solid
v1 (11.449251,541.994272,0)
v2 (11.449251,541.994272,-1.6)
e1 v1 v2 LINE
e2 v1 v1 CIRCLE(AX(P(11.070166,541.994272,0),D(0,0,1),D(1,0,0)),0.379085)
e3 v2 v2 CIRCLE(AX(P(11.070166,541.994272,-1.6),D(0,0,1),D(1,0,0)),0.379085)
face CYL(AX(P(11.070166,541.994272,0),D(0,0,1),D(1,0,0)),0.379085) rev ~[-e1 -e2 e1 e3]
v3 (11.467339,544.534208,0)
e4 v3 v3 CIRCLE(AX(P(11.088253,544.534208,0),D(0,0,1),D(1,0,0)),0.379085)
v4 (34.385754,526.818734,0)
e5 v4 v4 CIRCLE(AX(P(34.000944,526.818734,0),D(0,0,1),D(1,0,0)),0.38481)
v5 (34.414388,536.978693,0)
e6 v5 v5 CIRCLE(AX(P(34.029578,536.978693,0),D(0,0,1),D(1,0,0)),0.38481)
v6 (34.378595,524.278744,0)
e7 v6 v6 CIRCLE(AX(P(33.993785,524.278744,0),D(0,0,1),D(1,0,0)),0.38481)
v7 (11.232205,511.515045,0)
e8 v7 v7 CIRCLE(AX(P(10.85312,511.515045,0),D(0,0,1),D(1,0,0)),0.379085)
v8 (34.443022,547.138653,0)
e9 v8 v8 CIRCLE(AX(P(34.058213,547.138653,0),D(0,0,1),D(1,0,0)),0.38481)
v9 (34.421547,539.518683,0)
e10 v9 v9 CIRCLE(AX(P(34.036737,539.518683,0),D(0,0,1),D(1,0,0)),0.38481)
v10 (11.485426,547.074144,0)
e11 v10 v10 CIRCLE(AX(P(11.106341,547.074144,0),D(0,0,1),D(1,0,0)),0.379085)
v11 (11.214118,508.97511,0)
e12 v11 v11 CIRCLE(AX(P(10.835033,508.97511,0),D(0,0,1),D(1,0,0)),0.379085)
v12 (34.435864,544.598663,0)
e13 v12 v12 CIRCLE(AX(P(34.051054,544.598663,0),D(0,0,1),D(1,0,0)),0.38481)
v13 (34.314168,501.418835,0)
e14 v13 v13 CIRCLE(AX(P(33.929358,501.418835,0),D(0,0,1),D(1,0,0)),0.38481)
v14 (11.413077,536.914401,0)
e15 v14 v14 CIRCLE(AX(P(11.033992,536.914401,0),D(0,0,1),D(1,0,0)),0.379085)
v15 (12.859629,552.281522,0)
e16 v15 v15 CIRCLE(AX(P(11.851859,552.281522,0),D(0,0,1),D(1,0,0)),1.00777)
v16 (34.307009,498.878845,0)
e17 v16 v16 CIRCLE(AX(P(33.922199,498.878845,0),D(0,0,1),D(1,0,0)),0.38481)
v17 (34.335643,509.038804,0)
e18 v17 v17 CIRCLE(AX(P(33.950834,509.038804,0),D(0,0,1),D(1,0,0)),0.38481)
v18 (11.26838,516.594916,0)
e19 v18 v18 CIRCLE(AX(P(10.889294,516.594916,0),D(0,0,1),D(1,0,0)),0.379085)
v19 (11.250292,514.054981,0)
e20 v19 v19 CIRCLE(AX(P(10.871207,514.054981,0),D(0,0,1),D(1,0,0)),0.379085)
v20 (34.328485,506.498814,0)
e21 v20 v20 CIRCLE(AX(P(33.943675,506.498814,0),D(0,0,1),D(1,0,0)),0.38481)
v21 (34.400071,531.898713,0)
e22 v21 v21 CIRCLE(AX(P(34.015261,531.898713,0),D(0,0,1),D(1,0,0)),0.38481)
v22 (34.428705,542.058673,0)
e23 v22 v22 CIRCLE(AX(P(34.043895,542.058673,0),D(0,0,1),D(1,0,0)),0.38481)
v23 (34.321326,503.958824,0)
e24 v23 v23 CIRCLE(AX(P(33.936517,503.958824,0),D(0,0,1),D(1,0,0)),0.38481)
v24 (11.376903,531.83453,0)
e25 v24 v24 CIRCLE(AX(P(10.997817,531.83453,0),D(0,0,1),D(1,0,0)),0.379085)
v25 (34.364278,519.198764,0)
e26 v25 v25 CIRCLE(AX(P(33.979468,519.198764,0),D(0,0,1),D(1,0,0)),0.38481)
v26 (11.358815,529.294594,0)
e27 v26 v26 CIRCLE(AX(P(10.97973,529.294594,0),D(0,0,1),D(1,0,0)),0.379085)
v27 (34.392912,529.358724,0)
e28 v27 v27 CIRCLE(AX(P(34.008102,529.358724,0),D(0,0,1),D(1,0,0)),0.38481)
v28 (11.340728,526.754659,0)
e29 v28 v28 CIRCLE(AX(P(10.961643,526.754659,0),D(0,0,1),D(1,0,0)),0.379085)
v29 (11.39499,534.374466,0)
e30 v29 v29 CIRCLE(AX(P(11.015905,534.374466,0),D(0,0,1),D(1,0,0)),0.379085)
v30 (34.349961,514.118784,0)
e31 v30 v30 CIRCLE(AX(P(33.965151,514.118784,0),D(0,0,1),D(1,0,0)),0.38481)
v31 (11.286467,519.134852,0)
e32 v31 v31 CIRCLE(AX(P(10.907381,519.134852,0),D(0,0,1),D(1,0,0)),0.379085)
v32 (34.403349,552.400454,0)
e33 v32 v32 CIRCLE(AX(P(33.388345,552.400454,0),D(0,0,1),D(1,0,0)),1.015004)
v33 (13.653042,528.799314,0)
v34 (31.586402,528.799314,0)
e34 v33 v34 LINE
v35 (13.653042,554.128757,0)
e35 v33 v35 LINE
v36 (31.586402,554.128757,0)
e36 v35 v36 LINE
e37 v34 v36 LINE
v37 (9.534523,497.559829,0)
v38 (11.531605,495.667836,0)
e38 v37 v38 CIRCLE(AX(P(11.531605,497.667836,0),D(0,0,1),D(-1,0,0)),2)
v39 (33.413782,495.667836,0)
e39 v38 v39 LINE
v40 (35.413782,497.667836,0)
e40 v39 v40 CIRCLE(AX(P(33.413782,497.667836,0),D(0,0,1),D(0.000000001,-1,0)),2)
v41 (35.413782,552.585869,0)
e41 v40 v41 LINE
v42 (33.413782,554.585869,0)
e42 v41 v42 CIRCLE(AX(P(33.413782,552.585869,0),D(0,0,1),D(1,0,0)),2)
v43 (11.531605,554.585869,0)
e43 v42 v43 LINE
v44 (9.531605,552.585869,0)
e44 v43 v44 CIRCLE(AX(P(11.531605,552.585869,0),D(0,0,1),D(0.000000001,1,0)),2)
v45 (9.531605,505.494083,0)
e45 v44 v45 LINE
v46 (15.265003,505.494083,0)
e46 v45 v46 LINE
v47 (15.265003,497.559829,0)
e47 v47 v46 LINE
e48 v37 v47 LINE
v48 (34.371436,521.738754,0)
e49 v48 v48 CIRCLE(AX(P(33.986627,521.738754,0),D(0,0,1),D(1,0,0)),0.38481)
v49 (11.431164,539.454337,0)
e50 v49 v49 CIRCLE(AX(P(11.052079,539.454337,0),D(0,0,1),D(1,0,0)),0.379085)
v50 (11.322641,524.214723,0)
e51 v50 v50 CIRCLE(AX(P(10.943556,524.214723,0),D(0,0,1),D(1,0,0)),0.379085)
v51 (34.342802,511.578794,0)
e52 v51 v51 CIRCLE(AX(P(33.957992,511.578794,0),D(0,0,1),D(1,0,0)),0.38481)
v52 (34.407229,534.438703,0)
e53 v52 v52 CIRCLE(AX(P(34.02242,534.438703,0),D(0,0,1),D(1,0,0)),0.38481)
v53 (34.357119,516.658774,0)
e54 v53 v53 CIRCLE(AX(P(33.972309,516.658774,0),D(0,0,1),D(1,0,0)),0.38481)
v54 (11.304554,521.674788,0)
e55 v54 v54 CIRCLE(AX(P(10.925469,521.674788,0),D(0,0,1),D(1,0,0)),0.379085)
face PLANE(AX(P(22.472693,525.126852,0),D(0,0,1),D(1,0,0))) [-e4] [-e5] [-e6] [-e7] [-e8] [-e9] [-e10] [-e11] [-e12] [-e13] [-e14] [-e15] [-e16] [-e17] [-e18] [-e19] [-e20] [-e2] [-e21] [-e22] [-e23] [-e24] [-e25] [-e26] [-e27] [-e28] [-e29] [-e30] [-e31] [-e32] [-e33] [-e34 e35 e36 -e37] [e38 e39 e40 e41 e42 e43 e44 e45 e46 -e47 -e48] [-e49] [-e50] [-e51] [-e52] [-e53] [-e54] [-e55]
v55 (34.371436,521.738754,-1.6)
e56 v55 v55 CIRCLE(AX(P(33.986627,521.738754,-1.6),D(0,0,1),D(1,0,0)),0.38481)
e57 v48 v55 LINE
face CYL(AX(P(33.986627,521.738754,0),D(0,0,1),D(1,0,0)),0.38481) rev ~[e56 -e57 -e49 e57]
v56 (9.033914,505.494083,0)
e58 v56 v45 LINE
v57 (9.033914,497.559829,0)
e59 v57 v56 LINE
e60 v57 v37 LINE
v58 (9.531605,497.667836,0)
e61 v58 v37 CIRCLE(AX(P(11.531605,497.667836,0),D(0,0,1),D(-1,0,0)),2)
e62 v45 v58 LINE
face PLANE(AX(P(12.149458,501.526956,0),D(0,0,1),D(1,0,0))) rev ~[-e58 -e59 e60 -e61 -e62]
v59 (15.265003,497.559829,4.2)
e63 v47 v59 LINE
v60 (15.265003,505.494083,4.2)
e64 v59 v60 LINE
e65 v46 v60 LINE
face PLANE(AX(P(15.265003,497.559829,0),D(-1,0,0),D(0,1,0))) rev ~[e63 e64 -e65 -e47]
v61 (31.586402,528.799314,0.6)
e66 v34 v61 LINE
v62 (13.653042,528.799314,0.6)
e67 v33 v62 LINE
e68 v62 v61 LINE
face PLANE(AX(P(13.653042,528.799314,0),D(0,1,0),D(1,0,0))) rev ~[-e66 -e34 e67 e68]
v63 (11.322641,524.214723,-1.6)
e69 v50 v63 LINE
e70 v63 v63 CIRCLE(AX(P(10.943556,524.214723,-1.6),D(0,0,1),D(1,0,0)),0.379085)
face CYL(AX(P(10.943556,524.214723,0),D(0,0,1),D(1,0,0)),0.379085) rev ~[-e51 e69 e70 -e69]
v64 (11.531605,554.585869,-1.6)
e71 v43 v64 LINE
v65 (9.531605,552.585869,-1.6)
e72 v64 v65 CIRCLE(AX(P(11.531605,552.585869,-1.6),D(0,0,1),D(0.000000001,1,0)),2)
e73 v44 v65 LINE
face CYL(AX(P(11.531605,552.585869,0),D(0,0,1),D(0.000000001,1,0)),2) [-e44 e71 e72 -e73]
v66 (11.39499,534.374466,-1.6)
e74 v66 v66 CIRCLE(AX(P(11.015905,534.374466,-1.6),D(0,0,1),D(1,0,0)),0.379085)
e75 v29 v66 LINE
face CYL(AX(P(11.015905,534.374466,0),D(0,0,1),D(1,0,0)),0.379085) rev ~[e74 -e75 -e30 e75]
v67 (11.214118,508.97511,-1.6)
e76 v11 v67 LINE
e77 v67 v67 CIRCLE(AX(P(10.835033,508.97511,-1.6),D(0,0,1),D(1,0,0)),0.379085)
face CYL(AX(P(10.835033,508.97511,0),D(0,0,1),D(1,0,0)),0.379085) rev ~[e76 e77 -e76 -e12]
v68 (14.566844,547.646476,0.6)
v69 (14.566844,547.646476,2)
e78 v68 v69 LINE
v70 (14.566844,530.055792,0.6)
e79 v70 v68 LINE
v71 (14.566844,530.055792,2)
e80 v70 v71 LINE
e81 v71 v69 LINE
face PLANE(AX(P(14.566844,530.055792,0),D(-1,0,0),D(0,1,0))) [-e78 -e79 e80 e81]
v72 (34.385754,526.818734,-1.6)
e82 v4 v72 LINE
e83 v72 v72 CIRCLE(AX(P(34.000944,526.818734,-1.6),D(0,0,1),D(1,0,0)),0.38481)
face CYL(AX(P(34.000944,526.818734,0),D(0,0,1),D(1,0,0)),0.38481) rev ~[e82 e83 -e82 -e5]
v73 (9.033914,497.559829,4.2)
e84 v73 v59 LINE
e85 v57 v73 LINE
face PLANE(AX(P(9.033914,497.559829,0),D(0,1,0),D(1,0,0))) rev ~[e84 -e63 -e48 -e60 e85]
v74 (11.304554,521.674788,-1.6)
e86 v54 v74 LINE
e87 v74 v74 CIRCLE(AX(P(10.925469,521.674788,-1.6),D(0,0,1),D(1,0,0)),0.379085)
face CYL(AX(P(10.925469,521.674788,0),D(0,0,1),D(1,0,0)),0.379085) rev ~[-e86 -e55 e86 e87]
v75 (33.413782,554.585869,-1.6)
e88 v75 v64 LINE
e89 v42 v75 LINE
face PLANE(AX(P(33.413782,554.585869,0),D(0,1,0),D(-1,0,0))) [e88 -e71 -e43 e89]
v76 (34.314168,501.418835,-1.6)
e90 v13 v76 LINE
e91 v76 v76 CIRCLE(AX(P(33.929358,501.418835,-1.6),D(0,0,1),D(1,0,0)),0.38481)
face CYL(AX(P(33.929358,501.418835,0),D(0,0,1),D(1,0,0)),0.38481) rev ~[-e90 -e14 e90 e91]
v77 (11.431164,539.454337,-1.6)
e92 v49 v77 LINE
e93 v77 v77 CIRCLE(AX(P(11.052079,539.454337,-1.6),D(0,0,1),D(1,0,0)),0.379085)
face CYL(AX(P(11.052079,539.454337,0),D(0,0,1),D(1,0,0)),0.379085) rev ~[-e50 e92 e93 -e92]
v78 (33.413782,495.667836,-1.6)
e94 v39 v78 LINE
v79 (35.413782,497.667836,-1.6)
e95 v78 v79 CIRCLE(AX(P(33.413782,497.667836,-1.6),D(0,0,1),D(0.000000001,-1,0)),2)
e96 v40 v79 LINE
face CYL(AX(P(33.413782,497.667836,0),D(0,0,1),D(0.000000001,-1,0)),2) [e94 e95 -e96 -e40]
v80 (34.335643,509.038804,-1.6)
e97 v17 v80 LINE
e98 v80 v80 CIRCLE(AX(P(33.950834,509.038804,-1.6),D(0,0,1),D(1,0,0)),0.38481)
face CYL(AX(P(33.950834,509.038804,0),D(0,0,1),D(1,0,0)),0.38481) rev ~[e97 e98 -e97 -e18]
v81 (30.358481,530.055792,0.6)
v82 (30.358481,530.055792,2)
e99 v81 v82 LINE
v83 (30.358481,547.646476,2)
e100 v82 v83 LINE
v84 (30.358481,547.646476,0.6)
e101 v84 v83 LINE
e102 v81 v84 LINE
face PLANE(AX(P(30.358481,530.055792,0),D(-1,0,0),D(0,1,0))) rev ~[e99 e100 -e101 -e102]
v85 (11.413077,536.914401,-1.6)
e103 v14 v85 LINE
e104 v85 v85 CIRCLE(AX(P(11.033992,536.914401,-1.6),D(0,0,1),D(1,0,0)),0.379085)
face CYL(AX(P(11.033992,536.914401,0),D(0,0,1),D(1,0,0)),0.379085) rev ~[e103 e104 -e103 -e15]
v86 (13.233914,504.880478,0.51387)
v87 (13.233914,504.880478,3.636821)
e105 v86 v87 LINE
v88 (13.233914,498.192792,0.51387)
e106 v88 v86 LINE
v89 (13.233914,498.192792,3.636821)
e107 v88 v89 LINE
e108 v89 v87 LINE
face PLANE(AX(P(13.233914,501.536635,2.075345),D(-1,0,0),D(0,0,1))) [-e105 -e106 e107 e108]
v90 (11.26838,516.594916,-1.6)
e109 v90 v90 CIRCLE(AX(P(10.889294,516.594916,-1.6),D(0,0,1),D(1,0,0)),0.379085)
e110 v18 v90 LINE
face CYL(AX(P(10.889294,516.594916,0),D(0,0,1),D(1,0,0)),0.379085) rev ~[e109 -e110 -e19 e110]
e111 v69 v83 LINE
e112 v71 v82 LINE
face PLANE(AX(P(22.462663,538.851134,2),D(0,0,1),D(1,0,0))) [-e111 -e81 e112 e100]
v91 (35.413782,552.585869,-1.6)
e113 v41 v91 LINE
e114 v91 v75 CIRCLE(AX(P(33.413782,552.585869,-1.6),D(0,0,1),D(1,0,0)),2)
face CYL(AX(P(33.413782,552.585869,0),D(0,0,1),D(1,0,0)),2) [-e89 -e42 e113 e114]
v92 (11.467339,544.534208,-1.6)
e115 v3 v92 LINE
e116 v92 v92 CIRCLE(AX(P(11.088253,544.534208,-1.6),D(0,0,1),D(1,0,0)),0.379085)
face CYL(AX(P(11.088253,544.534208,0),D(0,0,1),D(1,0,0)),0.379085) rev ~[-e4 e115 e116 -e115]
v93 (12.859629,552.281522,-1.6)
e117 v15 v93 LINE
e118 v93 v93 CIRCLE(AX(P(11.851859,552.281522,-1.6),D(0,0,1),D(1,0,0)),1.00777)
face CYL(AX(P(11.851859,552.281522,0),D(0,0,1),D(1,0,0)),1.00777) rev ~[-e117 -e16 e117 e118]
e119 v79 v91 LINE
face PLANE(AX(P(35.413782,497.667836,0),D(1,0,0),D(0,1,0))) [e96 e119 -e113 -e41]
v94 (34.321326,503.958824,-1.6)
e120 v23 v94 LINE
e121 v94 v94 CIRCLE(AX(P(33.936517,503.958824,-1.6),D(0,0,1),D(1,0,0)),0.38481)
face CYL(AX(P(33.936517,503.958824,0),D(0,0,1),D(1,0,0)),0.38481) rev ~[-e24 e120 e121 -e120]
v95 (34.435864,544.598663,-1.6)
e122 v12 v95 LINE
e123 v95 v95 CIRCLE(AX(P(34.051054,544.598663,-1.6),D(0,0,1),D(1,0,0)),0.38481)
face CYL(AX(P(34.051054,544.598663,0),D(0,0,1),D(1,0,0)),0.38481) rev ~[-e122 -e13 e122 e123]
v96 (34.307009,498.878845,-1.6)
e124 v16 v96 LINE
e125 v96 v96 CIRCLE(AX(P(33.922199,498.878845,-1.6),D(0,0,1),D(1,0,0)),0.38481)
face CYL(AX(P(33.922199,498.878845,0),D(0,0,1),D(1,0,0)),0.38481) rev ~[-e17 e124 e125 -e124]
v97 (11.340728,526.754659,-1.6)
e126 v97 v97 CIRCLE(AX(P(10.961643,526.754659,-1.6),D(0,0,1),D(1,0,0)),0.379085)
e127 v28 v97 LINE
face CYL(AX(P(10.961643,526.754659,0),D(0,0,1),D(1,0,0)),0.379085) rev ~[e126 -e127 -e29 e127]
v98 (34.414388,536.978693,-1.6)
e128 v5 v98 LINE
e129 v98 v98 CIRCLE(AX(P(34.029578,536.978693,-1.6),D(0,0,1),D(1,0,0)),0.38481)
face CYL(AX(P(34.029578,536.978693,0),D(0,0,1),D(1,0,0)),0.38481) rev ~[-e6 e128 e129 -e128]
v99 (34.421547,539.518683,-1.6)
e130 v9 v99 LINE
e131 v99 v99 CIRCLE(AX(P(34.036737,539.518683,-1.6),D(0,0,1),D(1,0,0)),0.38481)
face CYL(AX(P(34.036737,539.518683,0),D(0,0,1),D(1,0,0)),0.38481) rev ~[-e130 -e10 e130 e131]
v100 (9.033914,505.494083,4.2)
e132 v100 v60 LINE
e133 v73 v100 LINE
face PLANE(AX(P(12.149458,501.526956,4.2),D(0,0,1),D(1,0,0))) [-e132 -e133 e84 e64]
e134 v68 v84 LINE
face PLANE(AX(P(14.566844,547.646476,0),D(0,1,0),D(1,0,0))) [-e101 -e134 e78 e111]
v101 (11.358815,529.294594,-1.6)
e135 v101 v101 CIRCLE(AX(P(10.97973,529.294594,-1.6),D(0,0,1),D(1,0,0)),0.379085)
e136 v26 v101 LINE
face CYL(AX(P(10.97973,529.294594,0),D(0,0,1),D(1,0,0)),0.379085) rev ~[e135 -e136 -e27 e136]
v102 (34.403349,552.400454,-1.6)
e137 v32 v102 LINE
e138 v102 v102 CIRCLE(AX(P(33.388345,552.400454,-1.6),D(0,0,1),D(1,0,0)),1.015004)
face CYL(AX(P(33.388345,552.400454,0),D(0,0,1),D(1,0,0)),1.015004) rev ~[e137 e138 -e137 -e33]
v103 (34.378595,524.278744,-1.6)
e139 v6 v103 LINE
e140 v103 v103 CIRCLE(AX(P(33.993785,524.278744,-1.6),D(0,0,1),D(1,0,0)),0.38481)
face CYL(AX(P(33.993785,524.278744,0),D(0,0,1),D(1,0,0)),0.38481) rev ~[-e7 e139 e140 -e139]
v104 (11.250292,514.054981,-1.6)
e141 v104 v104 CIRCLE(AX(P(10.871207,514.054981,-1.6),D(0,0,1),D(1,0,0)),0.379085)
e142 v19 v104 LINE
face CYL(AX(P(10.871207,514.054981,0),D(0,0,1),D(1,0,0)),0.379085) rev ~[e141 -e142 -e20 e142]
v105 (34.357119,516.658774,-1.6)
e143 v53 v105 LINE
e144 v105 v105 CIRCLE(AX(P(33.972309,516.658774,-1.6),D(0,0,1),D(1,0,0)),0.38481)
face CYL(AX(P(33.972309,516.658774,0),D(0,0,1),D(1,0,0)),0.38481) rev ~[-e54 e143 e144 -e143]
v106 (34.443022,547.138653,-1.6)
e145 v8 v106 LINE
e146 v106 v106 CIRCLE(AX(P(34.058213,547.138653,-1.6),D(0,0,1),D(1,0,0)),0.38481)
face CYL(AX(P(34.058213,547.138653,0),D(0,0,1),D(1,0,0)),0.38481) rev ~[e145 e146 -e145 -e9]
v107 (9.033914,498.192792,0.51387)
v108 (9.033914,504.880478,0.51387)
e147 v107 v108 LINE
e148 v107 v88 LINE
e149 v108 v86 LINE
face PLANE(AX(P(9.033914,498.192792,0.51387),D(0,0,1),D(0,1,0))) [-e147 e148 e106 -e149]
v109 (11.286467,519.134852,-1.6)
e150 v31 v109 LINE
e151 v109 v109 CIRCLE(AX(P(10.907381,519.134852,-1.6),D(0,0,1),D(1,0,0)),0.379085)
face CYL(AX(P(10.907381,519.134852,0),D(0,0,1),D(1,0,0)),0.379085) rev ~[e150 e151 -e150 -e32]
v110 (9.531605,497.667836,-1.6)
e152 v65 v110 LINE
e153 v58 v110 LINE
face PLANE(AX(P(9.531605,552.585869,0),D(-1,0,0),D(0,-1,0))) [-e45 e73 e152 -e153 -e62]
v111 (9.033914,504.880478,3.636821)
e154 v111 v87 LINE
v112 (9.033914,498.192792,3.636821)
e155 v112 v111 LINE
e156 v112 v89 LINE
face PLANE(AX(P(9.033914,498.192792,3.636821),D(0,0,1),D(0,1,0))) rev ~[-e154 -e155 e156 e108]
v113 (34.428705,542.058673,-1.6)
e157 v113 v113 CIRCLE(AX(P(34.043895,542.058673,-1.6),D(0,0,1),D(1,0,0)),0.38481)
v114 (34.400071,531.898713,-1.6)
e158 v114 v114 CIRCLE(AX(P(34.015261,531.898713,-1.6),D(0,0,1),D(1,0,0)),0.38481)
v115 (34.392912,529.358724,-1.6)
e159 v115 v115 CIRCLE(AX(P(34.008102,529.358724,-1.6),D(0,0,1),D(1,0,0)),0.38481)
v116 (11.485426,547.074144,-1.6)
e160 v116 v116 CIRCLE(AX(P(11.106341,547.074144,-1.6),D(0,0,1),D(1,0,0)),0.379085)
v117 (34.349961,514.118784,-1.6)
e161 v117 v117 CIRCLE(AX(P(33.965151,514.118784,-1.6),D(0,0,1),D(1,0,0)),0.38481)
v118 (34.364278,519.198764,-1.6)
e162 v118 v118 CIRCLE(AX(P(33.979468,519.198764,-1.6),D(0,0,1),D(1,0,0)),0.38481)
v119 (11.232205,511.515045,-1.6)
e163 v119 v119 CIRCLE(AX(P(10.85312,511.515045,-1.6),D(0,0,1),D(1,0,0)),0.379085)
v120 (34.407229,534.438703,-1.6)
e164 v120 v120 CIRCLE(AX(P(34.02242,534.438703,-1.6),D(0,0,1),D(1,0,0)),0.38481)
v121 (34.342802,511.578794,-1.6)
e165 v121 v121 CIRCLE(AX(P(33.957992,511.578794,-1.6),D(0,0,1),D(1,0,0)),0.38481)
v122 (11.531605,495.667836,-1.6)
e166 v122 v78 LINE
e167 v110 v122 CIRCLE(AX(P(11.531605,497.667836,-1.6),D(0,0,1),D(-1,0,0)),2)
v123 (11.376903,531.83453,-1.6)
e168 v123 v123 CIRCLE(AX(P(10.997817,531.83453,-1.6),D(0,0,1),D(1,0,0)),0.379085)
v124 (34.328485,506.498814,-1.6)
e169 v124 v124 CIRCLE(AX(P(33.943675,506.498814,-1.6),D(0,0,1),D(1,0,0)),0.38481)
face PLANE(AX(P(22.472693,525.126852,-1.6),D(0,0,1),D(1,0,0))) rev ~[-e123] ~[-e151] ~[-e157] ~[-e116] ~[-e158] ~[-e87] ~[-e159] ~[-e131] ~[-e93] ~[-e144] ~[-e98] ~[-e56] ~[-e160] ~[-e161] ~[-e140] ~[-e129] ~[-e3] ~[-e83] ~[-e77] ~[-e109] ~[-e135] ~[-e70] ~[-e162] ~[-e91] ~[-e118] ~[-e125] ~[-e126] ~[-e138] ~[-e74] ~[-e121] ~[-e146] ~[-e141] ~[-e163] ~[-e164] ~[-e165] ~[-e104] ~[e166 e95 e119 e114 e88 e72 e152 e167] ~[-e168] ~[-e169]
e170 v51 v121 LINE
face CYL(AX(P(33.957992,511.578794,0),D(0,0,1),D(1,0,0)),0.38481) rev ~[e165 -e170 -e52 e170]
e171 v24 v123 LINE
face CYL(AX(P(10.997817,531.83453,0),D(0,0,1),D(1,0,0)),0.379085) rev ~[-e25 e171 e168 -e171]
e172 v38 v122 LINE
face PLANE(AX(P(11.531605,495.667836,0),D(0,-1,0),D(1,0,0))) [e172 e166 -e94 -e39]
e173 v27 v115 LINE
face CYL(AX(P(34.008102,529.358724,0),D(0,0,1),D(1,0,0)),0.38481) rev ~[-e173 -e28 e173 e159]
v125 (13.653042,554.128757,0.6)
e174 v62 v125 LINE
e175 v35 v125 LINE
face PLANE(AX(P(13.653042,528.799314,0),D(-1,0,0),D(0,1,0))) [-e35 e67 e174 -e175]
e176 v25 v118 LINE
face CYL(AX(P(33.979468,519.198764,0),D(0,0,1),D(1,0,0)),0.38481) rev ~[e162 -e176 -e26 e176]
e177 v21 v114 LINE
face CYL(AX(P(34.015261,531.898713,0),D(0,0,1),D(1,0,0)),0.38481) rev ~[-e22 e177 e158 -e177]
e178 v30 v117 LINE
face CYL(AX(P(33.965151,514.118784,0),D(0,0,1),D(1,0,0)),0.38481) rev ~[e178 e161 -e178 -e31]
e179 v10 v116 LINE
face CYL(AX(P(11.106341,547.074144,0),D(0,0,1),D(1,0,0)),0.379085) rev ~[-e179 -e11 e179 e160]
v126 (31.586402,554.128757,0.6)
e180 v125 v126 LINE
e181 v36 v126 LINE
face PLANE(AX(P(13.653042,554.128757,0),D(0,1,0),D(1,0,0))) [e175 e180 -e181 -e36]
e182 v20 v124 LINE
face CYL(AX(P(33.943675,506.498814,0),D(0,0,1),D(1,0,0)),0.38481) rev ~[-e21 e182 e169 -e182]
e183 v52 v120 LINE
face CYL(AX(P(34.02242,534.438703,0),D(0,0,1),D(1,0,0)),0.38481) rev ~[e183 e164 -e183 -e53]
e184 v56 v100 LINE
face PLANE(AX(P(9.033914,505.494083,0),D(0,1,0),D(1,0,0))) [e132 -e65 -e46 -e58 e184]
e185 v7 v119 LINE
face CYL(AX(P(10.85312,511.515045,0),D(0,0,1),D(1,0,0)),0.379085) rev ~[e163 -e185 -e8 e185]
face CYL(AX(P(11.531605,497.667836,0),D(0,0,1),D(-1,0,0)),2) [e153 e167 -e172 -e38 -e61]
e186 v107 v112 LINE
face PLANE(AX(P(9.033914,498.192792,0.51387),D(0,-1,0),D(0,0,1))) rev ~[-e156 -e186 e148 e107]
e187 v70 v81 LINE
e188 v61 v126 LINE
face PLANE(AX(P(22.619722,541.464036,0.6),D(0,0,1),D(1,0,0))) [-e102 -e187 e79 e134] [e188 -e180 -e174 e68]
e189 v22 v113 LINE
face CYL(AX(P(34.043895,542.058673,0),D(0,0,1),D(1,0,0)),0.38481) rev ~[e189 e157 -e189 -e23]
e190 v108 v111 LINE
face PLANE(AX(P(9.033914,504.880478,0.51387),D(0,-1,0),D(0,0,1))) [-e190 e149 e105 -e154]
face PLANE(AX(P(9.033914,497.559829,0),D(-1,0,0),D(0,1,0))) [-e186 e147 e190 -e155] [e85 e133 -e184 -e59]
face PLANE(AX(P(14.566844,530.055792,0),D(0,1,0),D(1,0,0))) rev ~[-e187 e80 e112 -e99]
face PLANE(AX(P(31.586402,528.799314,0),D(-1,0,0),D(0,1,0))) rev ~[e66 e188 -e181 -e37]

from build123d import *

# Parameters (mm, degrees)
ESQUISSE3_W             = 15.791637012
ESQUISSE3_H             = 17.590684267
BOSS_EXTRU_1_DEPTH      = 2
ESQUISSE2_W             = 17.933359934
ESQUISSE2_H             = 25.329443091
BOSS_EXTRU_2_DEPTH      = 0.6
ESQUISSE4_W             = 6.231089561
ESQUISSE4_H             = 7.934254041
BOSS_EXTRU_3_DEPTH      = 4.2
ESQUISSE5_W             = 3.122951255
ESQUISSE5_H             = 6.687685859
ENL_V_MAT_EXTRU_1_DEPTH = 4.2
ESQUISSE1_R             = 1.007769755
ESQUISSE1_R_2           = 1.015003651
ESQUISSE1_R_3           = 0.379085232
ESQUISSE1_R_4           = 0.384809787
BOSS_EXTRU_5_DEPTH      = 1.6


with BuildPart() as part:
    # Esquisse3 → Boss.-Extru.1 (new body)
    with BuildSketch(Plane.XY):
        with Locations((22.462662563, 538.851133679)):
            Rectangle(ESQUISSE3_W, ESQUISSE3_H)
    extrude(amount=BOSS_EXTRU_1_DEPTH)

    # Esquisse2 → Boss.-Extru.2 (add)
    with BuildSketch(Plane.XY):
        with Locations((22.619722244, 541.464035644)):
            Rectangle(ESQUISSE2_W, ESQUISSE2_H)
    extrude(amount=BOSS_EXTRU_2_DEPTH)



with BuildPart() as body_2:
    # Esquisse4 → Boss.-Extru.3 (new body)
    with BuildSketch(Plane.XY):
        with Locations((12.149458307, 501.526955697)):
            Rectangle(ESQUISSE4_W, ESQUISSE4_H)
    extrude(amount=BOSS_EXTRU_3_DEPTH)

    # Esquisse5 → Enlèv. mat.-Extru.1 (cut)
    with BuildSketch(Plane.ZY.offset(-9.033913526)):
        with Locations((2.075345186, 501.536635321)):
            Rectangle(ESQUISSE5_W, ESQUISSE5_H)
    extrude(amount=-ENL_V_MAT_EXTRU_1_DEPTH, mode=Mode.SUBTRACT)


with BuildPart() as part_1:
    add(part.part)

    add(body_2.part)  # Boss.-Extru.5 merges body 2
    # Esquisse1 → Boss.-Extru.5 (add)
    with BuildSketch(Plane.XY):
        with BuildLine():
            Line((11.53160478, 495.667835537), (33.413782108, 495.667835537))
            ThreePointArc((33.413782108, 495.667835537), (34.82799567, 496.253621975), (35.413782108, 497.667835537))
            Line((35.413782108, 497.667835537), (35.413782108, 552.585869124))
            ThreePointArc((35.413782108, 552.585869124), (34.82799567, 554.000082687), (33.413782108, 554.585869124))
            Line((33.413782108, 554.585869124), (11.53160478, 554.585869124))
            ThreePointArc((11.53160478, 554.585869124), (10.117391217, 554.000082687), (9.53160478, 552.585869124))
            Line((9.53160478, 552.585869124), (9.53160478, 497.667835537))
            ThreePointArc((9.53160478, 497.667835537), (10.117391217, 496.253621975), (11.53160478, 495.667835537))
        make_face()
        with Locations((11.851858825, 552.281521948)):
            Circle(ESQUISSE1_R, mode=Mode.SUBTRACT)
        with Locations((33.388345227, 552.400453993)):
            Circle(ESQUISSE1_R_2, mode=Mode.SUBTRACT)
        with Locations((11.106340619, 547.074143577)):
            Circle(ESQUISSE1_R_3, mode=Mode.SUBTRACT)
        with Locations((11.088253425, 544.534207977)):
            Circle(ESQUISSE1_R_3, mode=Mode.SUBTRACT)
        with Locations((11.070166231, 541.994272377)):
            Circle(ESQUISSE1_R_3, mode=Mode.SUBTRACT)
        with Locations((11.052079036, 539.454336777)):
            Circle(ESQUISSE1_R_3, mode=Mode.SUBTRACT)
        with Locations((11.033991842, 536.914401176)):
            Circle(ESQUISSE1_R_3, mode=Mode.SUBTRACT)
        with Locations((11.015904648, 534.374465576)):
            Circle(ESQUISSE1_R_3, mode=Mode.SUBTRACT)
        with Locations((10.997817454, 531.834529976)):
            Circle(ESQUISSE1_R_3, mode=Mode.SUBTRACT)
        with Locations((10.979730259, 529.294594376)):
            Circle(ESQUISSE1_R_3, mode=Mode.SUBTRACT)
        with Locations((10.961643065, 526.754658775)):
            Circle(ESQUISSE1_R_3, mode=Mode.SUBTRACT)
        with Locations((10.943555871, 524.214723175)):
            Circle(ESQUISSE1_R_3, mode=Mode.SUBTRACT)
        with Locations((10.925468676, 521.674787575)):
            Circle(ESQUISSE1_R_3, mode=Mode.SUBTRACT)
        with Locations((10.907381482, 519.134851975)):
            Circle(ESQUISSE1_R_3, mode=Mode.SUBTRACT)
        with Locations((10.889294288, 516.594916374)):
            Circle(ESQUISSE1_R_3, mode=Mode.SUBTRACT)
        with Locations((10.871207093, 514.054980774)):
            Circle(ESQUISSE1_R_3, mode=Mode.SUBTRACT)
        with Locations((10.853119899, 511.515045174)):
            Circle(ESQUISSE1_R_3, mode=Mode.SUBTRACT)
        with Locations((10.835032705, 508.975109574)):
            Circle(ESQUISSE1_R_3, mode=Mode.SUBTRACT)
        with Locations((34.05821266, 547.138652956)):
            Circle(ESQUISSE1_R_4, mode=Mode.SUBTRACT)
        with Locations((34.051054062, 544.598663044)):
            Circle(ESQUISSE1_R_4, mode=Mode.SUBTRACT)
        with Locations((34.043895464, 542.058673131)):
            Circle(ESQUISSE1_R_4, mode=Mode.SUBTRACT)
        with Locations((34.036736867, 539.518683219)):
            Circle(ESQUISSE1_R_4, mode=Mode.SUBTRACT)
        with Locations((34.029578269, 536.978693307)):
            Circle(ESQUISSE1_R_4, mode=Mode.SUBTRACT)
        with Locations((34.022419671, 534.438703395)):
            Circle(ESQUISSE1_R_4, mode=Mode.SUBTRACT)
        with Locations((34.015261074, 531.898713482)):
            Circle(ESQUISSE1_R_4, mode=Mode.SUBTRACT)
        with Locations((34.008102476, 529.35872357)):
            Circle(ESQUISSE1_R_4, mode=Mode.SUBTRACT)
        with Locations((34.000943878, 526.818733658)):
            Circle(ESQUISSE1_R_4, mode=Mode.SUBTRACT)
        with Locations((33.993785281, 524.278743745)):
            Circle(ESQUISSE1_R_4, mode=Mode.SUBTRACT)
        with Locations((33.986626683, 521.738753833)):
            Circle(ESQUISSE1_R_4, mode=Mode.SUBTRACT)
        with Locations((33.979468085, 519.198763921)):
            Circle(ESQUISSE1_R_4, mode=Mode.SUBTRACT)
        with Locations((33.972309488, 516.658774009)):
            Circle(ESQUISSE1_R_4, mode=Mode.SUBTRACT)
        with Locations((33.96515089, 514.118784096)):
            Circle(ESQUISSE1_R_4, mode=Mode.SUBTRACT)
        with Locations((33.957992292, 511.578794184)):
            Circle(ESQUISSE1_R_4, mode=Mode.SUBTRACT)
        with Locations((33.950833695, 509.038804272)):
            Circle(ESQUISSE1_R_4, mode=Mode.SUBTRACT)
        with Locations((33.943675097, 506.498814359)):
            Circle(ESQUISSE1_R_4, mode=Mode.SUBTRACT)
        with Locations((33.9365165, 503.958824447)):
            Circle(ESQUISSE1_R_4, mode=Mode.SUBTRACT)
        with Locations((33.929357902, 501.418834535)):
            Circle(ESQUISSE1_R_4, mode=Mode.SUBTRACT)
        with Locations((33.922199304, 498.878844623)):
            Circle(ESQUISSE1_R_4, mode=Mode.SUBTRACT)
    extrude(amount=-BOSS_EXTRU_5_DEPTH)


solid = part_1.part
